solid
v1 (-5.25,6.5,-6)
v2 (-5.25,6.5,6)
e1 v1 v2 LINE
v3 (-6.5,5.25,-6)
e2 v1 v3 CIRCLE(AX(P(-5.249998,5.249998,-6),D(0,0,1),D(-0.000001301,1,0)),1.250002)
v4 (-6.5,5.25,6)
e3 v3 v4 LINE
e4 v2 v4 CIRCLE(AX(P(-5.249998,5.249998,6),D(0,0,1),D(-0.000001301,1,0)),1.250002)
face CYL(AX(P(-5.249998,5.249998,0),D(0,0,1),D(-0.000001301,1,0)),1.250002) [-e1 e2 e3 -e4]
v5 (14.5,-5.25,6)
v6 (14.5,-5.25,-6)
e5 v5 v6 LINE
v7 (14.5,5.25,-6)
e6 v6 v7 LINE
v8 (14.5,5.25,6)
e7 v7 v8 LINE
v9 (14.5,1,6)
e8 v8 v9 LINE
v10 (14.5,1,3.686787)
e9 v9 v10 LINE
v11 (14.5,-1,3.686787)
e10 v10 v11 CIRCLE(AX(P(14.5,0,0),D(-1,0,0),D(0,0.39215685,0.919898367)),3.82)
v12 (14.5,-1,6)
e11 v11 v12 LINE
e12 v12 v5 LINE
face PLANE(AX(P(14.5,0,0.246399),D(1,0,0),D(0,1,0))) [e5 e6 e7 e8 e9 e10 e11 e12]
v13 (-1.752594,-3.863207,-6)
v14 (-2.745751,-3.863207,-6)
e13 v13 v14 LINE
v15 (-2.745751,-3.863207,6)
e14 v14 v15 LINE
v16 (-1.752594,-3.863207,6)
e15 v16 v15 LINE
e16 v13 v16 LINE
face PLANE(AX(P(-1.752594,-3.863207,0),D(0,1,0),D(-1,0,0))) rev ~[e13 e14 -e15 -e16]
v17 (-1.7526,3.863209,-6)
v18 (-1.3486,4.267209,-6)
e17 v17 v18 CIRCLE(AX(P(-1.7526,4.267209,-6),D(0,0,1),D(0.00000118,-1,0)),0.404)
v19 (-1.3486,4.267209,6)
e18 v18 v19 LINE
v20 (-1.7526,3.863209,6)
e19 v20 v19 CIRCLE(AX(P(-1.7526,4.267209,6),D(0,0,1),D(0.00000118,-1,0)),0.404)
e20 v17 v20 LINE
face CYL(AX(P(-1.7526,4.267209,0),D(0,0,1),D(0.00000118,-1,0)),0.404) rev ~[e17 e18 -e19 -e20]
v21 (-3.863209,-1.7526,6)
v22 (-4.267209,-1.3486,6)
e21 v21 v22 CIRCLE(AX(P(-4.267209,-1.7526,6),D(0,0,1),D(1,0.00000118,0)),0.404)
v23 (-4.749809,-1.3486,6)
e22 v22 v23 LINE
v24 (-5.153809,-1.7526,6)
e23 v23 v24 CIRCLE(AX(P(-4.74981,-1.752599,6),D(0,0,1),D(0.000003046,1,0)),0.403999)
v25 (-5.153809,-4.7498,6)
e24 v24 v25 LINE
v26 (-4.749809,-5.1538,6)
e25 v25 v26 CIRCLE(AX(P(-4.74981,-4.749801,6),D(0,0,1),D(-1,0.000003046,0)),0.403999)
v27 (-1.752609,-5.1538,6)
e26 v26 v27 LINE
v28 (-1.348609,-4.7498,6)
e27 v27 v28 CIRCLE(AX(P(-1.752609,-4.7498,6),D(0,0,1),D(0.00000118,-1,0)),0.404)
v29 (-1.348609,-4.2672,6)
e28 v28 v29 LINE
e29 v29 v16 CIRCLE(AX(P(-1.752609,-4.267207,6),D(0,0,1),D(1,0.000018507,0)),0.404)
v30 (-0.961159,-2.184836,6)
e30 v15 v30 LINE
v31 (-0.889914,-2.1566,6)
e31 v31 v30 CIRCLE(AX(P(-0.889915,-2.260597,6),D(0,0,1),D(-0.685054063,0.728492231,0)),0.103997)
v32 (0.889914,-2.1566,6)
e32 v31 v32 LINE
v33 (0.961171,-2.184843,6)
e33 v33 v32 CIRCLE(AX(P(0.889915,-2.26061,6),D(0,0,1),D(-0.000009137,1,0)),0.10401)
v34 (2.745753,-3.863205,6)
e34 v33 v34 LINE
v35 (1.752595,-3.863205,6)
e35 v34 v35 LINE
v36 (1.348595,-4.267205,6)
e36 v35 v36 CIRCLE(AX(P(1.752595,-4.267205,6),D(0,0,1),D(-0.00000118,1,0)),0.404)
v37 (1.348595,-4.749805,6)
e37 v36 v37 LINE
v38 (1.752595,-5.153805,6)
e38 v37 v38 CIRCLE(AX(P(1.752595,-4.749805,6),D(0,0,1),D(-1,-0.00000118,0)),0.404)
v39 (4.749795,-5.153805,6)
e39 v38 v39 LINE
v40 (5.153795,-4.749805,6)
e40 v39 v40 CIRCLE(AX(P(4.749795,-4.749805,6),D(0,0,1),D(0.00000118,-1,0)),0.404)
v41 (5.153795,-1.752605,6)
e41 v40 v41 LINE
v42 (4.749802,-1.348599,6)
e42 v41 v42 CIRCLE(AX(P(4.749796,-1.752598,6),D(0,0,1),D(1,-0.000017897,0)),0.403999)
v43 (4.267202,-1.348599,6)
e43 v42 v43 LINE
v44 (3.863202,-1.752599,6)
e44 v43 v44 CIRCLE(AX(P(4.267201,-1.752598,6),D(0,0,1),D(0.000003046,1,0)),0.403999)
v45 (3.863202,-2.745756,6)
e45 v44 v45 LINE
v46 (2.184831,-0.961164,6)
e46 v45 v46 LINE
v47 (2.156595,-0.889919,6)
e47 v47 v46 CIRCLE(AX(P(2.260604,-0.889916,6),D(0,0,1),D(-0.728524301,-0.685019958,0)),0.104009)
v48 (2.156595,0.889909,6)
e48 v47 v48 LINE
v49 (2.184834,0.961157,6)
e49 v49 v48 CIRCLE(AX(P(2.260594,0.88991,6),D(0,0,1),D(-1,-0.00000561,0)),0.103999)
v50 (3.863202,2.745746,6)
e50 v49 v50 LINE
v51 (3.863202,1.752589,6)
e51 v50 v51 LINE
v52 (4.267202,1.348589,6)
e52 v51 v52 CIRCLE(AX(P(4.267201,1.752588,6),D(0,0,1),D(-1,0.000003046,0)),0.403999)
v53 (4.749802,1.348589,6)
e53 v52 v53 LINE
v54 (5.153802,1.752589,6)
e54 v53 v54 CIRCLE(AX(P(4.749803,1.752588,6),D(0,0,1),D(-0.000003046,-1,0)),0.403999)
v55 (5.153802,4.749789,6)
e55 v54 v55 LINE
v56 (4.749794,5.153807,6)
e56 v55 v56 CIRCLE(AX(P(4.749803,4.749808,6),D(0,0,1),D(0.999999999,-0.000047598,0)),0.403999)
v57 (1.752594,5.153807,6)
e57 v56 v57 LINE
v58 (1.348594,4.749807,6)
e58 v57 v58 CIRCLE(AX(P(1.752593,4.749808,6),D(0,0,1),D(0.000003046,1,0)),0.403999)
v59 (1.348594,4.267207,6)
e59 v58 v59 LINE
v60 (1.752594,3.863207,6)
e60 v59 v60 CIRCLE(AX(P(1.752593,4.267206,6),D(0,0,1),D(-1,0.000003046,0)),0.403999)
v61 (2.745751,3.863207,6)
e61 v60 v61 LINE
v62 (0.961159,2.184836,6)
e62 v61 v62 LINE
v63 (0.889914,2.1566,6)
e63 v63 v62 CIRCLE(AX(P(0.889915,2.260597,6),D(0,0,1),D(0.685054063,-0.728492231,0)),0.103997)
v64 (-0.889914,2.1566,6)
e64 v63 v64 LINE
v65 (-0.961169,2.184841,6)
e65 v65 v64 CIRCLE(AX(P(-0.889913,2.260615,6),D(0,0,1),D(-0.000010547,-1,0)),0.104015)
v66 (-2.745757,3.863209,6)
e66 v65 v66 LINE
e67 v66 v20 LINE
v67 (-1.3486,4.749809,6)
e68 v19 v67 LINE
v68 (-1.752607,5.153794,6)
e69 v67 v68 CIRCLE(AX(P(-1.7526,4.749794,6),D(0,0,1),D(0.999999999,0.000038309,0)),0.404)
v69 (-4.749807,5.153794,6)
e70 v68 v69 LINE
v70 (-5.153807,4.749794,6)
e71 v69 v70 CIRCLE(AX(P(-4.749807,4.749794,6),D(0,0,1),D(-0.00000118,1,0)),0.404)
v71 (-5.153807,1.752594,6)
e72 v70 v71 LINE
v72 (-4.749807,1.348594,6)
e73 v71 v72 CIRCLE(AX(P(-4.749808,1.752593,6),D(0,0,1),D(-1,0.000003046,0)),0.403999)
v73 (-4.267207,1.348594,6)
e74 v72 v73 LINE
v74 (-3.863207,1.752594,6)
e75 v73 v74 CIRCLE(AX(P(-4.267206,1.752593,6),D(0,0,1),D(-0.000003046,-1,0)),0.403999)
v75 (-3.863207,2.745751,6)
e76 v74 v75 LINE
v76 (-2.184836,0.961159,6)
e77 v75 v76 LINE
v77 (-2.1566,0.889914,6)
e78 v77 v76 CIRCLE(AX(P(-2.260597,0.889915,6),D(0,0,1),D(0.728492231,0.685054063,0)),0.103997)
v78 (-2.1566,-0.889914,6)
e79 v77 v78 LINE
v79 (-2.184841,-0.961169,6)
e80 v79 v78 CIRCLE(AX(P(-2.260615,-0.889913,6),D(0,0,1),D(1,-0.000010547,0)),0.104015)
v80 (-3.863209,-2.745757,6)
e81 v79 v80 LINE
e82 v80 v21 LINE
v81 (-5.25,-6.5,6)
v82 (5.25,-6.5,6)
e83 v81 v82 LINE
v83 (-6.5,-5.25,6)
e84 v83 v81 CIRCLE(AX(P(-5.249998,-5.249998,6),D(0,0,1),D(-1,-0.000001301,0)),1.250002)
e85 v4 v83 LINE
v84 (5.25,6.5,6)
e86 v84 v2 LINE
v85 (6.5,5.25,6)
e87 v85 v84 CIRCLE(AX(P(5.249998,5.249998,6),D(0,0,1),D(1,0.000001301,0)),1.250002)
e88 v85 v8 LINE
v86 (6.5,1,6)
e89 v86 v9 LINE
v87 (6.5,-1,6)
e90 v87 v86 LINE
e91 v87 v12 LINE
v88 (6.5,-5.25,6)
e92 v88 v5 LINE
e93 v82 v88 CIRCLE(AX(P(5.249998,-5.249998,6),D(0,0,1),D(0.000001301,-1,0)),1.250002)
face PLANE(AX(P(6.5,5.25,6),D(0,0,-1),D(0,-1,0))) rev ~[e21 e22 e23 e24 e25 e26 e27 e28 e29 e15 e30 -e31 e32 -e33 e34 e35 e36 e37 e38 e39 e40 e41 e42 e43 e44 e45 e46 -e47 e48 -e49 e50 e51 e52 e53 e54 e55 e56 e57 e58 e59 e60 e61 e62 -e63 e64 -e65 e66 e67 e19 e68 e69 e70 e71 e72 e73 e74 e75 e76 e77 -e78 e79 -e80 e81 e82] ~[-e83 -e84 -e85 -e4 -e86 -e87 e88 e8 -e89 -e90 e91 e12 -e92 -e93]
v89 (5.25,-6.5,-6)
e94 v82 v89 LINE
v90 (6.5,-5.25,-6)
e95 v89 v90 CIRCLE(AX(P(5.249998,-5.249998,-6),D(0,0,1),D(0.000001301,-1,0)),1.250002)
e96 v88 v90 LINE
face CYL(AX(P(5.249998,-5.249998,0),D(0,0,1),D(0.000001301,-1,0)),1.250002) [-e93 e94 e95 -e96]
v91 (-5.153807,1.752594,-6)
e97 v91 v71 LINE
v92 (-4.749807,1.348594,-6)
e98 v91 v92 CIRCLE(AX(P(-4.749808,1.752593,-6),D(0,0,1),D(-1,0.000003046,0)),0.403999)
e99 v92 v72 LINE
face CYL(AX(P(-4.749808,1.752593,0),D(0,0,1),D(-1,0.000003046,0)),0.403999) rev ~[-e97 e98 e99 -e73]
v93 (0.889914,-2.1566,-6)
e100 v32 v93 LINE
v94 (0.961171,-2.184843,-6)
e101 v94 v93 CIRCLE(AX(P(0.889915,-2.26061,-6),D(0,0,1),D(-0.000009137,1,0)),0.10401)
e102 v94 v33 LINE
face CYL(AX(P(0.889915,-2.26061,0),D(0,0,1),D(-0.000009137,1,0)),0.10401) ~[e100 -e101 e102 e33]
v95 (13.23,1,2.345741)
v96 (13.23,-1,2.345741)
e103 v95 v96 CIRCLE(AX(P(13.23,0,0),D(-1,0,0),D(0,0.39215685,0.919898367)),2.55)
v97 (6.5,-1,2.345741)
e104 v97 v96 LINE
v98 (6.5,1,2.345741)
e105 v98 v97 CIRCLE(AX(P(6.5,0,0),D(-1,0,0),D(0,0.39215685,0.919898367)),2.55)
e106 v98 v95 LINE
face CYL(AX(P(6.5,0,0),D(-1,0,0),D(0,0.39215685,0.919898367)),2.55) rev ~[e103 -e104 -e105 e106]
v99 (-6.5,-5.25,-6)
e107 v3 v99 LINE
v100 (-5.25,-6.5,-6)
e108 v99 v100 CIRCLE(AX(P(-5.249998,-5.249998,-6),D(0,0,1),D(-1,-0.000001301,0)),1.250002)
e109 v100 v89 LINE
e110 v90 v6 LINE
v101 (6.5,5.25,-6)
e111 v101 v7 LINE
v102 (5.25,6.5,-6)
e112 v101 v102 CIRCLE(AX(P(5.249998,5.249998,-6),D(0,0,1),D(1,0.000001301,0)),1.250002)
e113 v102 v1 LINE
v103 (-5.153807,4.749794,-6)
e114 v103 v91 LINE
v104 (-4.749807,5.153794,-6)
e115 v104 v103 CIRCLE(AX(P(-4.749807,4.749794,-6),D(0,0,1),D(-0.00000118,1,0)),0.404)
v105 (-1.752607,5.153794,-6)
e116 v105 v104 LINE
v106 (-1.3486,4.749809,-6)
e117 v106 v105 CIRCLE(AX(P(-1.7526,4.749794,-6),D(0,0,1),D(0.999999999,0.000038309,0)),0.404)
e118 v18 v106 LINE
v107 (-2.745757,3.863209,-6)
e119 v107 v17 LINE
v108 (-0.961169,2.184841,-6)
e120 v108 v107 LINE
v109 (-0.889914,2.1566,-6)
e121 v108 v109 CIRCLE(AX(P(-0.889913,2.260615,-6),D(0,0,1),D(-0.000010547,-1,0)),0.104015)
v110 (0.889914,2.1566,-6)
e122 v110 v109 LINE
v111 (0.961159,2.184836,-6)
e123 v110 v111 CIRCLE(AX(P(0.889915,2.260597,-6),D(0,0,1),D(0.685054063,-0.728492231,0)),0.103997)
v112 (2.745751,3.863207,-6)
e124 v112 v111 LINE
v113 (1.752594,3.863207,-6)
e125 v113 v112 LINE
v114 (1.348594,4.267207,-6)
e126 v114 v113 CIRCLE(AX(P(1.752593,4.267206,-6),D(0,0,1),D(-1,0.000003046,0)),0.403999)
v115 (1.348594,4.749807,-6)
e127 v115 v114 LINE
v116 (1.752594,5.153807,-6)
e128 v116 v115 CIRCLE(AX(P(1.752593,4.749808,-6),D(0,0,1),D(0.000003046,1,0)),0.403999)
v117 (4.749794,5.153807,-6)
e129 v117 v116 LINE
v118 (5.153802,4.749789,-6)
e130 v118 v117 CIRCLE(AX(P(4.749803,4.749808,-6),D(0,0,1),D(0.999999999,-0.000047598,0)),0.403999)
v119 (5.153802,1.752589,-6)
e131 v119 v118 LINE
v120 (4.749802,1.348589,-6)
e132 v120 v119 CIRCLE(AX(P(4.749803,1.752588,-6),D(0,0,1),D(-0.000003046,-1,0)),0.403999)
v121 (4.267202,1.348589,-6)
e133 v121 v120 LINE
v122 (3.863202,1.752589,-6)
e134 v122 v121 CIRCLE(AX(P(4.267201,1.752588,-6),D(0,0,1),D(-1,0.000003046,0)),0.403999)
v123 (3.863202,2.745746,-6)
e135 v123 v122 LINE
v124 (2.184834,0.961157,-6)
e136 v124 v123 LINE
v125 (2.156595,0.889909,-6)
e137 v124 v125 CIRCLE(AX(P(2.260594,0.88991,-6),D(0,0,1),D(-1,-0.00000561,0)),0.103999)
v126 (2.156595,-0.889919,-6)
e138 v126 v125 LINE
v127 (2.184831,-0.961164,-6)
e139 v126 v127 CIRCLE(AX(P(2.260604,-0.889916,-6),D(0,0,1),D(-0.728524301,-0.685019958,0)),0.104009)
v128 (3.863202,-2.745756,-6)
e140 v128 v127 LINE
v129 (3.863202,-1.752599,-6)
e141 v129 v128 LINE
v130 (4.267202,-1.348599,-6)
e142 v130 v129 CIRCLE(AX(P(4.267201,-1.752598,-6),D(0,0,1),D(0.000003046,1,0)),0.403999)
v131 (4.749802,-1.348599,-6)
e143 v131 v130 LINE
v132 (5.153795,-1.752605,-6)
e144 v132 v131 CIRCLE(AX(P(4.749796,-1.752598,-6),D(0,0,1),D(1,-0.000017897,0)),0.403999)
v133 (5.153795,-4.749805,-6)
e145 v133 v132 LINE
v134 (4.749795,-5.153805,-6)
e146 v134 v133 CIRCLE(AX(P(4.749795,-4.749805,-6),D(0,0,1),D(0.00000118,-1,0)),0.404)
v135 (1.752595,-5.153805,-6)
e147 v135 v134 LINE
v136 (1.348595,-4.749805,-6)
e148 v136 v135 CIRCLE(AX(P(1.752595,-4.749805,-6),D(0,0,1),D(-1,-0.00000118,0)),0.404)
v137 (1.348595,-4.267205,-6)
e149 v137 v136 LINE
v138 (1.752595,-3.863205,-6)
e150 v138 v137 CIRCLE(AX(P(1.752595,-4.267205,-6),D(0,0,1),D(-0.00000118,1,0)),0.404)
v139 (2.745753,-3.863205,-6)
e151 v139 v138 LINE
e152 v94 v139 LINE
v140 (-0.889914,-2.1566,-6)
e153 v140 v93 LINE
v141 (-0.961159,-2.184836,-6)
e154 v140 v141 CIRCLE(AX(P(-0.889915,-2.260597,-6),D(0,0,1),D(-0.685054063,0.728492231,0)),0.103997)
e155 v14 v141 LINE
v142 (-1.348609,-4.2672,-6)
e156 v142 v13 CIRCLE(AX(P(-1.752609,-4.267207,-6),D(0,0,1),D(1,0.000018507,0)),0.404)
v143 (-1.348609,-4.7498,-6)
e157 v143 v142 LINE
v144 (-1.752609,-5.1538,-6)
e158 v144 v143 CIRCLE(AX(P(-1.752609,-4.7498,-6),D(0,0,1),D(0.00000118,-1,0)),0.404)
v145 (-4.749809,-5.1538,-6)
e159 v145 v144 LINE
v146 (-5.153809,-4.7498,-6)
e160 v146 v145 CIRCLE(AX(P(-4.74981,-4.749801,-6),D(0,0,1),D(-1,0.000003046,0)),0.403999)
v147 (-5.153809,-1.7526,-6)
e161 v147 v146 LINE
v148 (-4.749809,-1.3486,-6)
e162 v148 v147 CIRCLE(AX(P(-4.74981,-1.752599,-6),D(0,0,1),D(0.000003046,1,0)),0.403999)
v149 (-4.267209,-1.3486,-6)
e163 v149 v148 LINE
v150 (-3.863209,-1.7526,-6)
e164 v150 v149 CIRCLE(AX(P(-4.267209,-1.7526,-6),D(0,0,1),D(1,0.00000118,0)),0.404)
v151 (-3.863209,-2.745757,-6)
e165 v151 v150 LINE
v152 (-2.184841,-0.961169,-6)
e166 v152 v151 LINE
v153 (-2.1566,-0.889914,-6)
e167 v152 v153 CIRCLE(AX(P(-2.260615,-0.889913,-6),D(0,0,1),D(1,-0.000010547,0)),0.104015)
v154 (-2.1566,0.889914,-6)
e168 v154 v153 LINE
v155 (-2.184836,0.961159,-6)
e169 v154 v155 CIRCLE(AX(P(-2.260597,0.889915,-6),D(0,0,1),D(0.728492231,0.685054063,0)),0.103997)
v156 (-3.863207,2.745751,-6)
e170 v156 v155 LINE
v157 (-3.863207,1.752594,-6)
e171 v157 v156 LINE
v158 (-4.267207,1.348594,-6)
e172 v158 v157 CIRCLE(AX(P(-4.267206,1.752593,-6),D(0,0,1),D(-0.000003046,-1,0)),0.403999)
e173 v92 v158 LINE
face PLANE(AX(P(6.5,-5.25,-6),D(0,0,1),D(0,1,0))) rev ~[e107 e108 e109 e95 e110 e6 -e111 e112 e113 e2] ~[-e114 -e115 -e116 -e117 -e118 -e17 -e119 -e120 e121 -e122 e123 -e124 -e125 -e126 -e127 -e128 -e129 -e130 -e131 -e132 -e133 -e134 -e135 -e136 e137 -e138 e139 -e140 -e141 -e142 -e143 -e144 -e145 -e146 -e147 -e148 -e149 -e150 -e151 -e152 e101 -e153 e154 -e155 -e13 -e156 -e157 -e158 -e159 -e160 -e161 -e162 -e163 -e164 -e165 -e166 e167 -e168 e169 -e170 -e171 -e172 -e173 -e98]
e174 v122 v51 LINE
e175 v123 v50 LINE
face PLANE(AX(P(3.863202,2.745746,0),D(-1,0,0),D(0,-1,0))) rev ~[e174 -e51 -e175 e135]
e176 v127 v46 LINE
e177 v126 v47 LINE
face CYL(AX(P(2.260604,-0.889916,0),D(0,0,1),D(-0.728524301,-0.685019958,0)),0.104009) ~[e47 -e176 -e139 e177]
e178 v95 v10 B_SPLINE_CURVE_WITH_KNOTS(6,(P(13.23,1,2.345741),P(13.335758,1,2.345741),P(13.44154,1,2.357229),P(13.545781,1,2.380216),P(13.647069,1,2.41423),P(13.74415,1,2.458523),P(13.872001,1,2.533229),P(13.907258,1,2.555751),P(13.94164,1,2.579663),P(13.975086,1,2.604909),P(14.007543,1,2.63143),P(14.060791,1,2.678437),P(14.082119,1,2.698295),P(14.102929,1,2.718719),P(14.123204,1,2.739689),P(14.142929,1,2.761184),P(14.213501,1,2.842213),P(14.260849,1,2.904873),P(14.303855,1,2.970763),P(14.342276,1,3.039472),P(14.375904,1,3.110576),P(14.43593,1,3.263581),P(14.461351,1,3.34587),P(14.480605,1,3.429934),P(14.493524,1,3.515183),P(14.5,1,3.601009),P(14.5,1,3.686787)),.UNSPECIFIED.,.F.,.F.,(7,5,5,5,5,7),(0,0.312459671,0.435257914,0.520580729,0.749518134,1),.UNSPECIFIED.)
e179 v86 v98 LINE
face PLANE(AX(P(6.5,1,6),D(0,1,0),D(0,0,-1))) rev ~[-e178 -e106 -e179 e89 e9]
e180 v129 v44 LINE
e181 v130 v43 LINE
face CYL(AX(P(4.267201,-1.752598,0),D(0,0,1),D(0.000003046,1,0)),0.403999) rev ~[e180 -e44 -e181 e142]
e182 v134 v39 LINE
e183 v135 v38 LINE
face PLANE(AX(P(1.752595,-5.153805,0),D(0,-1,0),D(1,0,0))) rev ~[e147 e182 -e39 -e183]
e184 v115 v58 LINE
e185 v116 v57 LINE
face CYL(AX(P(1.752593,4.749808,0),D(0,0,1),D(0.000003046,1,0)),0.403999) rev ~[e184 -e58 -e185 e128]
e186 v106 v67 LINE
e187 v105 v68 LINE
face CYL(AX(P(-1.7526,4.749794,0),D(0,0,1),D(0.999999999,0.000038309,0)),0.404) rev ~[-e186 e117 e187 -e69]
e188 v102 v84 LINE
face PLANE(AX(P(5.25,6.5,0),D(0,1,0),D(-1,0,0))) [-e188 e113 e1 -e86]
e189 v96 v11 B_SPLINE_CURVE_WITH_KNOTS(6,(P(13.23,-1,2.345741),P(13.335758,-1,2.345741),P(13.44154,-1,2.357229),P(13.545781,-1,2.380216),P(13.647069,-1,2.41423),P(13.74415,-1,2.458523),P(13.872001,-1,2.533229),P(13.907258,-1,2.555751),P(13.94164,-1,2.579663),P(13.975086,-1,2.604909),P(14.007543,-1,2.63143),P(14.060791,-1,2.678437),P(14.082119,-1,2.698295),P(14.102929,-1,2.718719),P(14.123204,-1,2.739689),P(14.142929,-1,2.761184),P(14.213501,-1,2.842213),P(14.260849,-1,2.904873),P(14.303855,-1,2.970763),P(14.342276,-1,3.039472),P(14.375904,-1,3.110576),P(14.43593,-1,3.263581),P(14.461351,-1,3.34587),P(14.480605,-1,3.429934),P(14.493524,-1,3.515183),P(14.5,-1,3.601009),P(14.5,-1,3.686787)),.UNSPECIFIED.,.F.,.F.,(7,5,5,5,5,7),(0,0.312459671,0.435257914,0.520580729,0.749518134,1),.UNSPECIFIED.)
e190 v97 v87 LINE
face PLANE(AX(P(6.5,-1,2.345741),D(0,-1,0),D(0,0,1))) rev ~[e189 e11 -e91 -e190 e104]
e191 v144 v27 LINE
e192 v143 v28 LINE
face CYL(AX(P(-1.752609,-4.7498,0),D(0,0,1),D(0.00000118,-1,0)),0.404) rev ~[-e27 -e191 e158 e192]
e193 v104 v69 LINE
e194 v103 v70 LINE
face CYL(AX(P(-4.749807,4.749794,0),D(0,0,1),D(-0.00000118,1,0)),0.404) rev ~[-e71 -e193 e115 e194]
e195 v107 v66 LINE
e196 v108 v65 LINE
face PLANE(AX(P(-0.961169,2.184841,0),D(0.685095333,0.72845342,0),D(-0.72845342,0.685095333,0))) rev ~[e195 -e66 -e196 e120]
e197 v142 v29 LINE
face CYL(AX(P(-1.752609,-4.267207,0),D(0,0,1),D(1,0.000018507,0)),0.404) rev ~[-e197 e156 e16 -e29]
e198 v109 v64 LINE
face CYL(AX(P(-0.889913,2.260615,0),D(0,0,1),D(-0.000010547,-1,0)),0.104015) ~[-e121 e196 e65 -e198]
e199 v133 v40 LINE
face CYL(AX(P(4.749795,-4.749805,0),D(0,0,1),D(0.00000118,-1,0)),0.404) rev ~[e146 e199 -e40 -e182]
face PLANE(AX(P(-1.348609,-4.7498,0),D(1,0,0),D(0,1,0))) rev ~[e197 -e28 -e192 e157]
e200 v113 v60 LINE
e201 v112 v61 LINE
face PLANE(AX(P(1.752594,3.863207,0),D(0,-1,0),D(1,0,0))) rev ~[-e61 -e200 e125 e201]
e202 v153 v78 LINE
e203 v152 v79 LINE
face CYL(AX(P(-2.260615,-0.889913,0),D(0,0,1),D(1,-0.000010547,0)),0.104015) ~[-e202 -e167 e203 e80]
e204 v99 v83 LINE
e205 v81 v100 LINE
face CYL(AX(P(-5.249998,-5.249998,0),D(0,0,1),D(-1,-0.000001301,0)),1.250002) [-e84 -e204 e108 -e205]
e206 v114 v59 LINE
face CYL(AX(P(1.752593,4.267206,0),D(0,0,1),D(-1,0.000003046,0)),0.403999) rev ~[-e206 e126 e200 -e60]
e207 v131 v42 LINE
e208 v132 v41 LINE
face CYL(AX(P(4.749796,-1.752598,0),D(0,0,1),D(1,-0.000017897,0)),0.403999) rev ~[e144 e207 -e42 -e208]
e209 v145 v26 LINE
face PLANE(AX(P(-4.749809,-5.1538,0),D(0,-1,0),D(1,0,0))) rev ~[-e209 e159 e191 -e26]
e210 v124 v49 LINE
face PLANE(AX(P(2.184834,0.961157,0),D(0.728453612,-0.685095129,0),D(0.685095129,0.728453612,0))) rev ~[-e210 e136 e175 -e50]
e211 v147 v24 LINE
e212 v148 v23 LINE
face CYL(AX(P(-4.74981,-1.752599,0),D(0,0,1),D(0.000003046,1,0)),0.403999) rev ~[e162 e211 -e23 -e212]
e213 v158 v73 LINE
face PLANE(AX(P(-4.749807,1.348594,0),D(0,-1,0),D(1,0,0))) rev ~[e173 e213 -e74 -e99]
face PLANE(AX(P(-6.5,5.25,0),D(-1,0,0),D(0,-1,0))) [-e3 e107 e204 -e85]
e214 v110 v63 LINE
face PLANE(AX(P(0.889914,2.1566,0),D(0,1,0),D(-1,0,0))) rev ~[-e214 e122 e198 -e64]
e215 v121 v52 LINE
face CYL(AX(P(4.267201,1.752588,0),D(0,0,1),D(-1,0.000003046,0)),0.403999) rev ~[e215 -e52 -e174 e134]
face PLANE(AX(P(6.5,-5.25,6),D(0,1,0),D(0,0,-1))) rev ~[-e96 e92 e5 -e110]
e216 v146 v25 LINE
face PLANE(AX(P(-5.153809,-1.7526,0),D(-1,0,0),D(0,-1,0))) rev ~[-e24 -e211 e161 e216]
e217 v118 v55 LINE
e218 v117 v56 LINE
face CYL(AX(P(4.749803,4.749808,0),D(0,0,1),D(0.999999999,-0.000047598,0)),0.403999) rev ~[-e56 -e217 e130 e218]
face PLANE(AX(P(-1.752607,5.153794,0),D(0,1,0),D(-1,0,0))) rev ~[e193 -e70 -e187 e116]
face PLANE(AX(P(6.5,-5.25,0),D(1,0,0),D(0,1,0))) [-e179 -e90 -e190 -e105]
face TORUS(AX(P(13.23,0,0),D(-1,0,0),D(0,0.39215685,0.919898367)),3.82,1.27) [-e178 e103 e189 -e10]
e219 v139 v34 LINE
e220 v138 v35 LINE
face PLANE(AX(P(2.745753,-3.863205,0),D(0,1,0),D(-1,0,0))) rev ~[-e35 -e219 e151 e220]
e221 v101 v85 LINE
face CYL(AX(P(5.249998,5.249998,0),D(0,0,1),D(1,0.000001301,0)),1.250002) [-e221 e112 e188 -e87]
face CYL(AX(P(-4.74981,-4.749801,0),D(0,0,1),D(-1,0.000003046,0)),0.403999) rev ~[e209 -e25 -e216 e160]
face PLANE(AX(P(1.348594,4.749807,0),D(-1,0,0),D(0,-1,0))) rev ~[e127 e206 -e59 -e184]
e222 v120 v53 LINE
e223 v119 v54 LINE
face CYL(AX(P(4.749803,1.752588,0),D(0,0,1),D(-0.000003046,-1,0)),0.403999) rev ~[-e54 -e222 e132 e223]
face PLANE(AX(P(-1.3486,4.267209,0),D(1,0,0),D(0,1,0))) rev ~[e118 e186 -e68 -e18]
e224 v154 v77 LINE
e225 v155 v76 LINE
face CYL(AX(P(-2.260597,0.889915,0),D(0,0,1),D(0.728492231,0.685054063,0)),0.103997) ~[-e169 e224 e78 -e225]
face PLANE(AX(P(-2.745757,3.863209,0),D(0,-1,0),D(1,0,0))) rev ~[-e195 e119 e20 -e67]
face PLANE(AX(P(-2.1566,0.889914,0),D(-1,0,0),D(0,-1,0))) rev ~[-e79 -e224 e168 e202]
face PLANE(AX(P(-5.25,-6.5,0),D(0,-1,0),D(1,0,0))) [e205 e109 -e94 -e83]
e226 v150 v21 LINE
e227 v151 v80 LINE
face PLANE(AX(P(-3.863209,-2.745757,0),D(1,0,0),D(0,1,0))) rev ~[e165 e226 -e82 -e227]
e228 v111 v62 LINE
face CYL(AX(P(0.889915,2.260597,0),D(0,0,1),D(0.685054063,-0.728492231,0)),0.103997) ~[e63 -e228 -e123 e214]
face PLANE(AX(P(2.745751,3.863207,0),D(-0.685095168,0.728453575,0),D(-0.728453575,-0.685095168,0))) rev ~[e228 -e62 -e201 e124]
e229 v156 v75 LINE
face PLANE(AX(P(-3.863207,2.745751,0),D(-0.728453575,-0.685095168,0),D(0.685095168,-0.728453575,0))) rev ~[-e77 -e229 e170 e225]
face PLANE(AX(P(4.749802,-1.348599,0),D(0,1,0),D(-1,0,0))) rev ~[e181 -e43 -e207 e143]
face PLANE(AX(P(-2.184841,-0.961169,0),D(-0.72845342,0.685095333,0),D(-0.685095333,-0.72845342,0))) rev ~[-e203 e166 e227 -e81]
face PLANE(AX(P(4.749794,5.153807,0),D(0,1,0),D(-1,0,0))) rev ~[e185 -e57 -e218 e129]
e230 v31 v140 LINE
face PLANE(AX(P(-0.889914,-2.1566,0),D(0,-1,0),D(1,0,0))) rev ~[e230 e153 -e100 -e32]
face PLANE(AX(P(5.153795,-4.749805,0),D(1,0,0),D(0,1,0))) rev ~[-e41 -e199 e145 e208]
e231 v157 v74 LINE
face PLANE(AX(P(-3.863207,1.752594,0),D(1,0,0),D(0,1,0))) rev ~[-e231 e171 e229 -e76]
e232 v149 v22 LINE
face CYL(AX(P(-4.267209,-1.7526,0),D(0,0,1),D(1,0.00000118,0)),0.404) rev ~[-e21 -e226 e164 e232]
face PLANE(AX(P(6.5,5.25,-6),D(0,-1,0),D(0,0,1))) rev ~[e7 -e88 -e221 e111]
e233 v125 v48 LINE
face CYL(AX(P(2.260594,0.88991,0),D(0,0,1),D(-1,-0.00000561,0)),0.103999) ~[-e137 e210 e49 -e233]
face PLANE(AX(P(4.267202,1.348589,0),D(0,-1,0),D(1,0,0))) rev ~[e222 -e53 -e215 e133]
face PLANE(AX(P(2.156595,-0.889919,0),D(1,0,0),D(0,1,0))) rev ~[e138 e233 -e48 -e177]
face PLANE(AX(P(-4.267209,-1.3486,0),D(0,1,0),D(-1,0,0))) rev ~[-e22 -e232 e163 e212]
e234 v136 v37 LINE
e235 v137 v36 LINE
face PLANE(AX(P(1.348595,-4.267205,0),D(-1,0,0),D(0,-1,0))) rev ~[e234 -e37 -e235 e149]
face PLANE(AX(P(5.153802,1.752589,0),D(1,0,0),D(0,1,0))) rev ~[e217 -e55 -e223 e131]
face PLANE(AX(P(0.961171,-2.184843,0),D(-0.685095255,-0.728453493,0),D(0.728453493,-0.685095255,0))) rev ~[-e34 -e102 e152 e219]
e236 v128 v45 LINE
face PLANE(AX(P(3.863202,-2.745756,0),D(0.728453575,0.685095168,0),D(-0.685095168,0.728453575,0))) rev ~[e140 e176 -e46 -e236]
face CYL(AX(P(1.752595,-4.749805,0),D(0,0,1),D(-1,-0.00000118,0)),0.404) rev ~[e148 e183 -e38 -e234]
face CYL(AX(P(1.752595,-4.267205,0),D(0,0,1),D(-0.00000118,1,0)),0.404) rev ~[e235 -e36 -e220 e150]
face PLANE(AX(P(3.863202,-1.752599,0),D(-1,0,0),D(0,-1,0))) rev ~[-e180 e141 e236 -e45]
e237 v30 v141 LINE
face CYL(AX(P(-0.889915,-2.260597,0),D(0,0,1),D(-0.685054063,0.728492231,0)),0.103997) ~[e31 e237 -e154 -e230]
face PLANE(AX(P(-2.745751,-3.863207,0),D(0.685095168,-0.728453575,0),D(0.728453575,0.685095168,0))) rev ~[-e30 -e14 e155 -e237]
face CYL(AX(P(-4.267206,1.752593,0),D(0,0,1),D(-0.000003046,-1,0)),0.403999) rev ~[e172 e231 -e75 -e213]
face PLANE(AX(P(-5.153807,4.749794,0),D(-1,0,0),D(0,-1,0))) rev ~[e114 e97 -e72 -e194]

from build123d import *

# Parameters (mm, degrees)
F1_DEPTH = 6
F3_DEPTH = 10
F5_DEPTH = 8
F6_R     = 1.27


with BuildPart() as f1:
    # F0 (on Top) → F1 (new body, symmetric)
    with BuildSketch(Plane.XY):
        with BuildLine():
            Line((6.5, -5.25), (6.5, 5.25))
            ThreePointArc((6.5, 5.25), (6.133883, 6.133883), (5.25, 6.5))
            Line((5.25, 6.5), (-5.25, 6.5))
            ThreePointArc((-5.25, 6.5), (-6.133883, 6.133883), (-6.5, 5.25))
            Line((-6.5, 5.25), (-6.5, -5.25))
            ThreePointArc((-6.5, -5.25), (-6.133883, -6.133883), (-5.25, -6.5))
            Line((-5.25, -6.5), (5.25, -6.5))
            ThreePointArc((5.25, -6.5), (6.133883, -6.133883), (6.5, -5.25))
        make_face()
    extrude(amount=F1_DEPTH, both=True)

    # F2 (on Top) → F3 (cut, symmetric)
    with BuildSketch(Plane.XY):
        with BuildLine():
            ThreePointArc((0.889914, -2.1566), (0.928239, -2.163918), (0.961171, -2.184843))
            Line((0.961171, -2.184843), (2.745753, -3.863205))
            Line((2.745753, -3.863205), (1.752595, -3.863205))
            ThreePointArc((1.752595, -3.863205), (1.466924, -3.981534), (1.348595, -4.267205))
            Line((1.348595, -4.267205), (1.348595, -4.749805))
            ThreePointArc((1.348595, -4.749805), (1.466924, -5.035476), (1.752595, -5.153805))
            Line((1.752595, -5.153805), (4.749795, -5.153805))
            ThreePointArc((4.749795, -5.153805), (5.035466, -5.035476), (5.153795, -4.749805))
            Line((5.153795, -4.749805), (5.153795, -1.752605))
            ThreePointArc((5.153795, -1.752605), (5.035471, -1.466932), (4.749802, -1.348599))
            Line((4.749802, -1.348599), (4.267202, -1.348599))
            ThreePointArc((4.267202, -1.348599), (3.981531, -1.466927), (3.863202, -1.752599))
            Line((3.863202, -1.752599), (3.863202, -2.745756))
            Line((3.863202, -2.745756), (2.184831, -0.961164))
            ThreePointArc((2.184831, -0.961164), (2.163912, -0.928237), (2.156595, -0.889919))
            Line((2.156595, -0.889919), (2.156595, 0.889909))
            ThreePointArc((2.156595, 0.889909), (2.163912, 0.928229), (2.184834, 0.961157))
            Line((2.184834, 0.961157), (3.863202, 2.745746))
            Line((3.863202, 2.745746), (3.863202, 1.752589))
            ThreePointArc((3.863202, 1.752589), (3.981531, 1.466917), (4.267202, 1.348589))
            Line((4.267202, 1.348589), (4.749802, 1.348589))
            ThreePointArc((4.749802, 1.348589), (5.035473, 1.466917), (5.153802, 1.752589))
            Line((5.153802, 1.752589), (5.153802, 4.749789))
            ThreePointArc((5.153802, 4.749789), (5.035477, 5.035475), (4.749794, 5.153807))
            Line((4.749794, 5.153807), (1.752594, 5.153807))
            ThreePointArc((1.752594, 5.153807), (1.466922, 5.035478), (1.348594, 4.749807))
            Line((1.348594, 4.749807), (1.348594, 4.267207))
            ThreePointArc((1.348594, 4.267207), (1.466922, 3.981536), (1.752594, 3.863207))
            Line((1.752594, 3.863207), (2.745751, 3.863207))
            Line((2.745751, 3.863207), (0.961159, 2.184836))
            ThreePointArc((0.961159, 2.184836), (0.928232, 2.163916), (0.889914, 2.1566))
            Line((0.889914, 2.1566), (-0.889914, 2.1566))
            ThreePointArc((-0.889914, 2.1566), (-0.928238, 2.163918), (-0.961169, 2.184841))
            Line((-0.961169, 2.184841), (-2.745757, 3.863209))
            Line((-2.745757, 3.863209), (-1.7526, 3.863209))
            ThreePointArc((-1.7526, 3.863209), (-1.466929, 3.981538), (-1.3486, 4.267209))
            Line((-1.3486, 4.267209), (-1.3486, 4.749809))
            ThreePointArc((-1.3486, 4.749809), (-1.466937, 5.035473), (-1.752607, 5.153794))
            Line((-1.752607, 5.153794), (-4.749807, 5.153794))
            ThreePointArc((-4.749807, 5.153794), (-5.035478, 5.035465), (-5.153807, 4.749794))
            Line((-5.153807, 4.749794), (-5.153807, 1.752594))
            ThreePointArc((-5.153807, 1.752594), (-5.035478, 1.466922), (-4.749807, 1.348594))
            Line((-4.749807, 1.348594), (-4.267207, 1.348594))
            ThreePointArc((-4.267207, 1.348594), (-3.981536, 1.466922), (-3.863207, 1.752594))
            Line((-3.863207, 1.752594), (-3.863207, 2.745751))
            Line((-3.863207, 2.745751), (-2.184836, 0.961159))
            ThreePointArc((-2.184836, 0.961159), (-2.163916, 0.928232), (-2.1566, 0.889914))
            Line((-2.1566, 0.889914), (-2.1566, -0.889914))
            ThreePointArc((-2.1566, -0.889914), (-2.163918, -0.928238), (-2.184841, -0.961169))
            Line((-2.184841, -0.961169), (-3.863209, -2.745757))
            Line((-3.863209, -2.745757), (-3.863209, -1.7526))
            ThreePointArc((-3.863209, -1.7526), (-3.981538, -1.466929), (-4.267209, -1.3486))
            Line((-4.267209, -1.3486), (-4.749809, -1.3486))
            ThreePointArc((-4.749809, -1.3486), (-5.035481, -1.466929), (-5.153809, -1.7526))
            Line((-5.153809, -1.7526), (-5.153809, -4.7498))
            ThreePointArc((-5.153809, -4.7498), (-5.035481, -5.035471), (-4.749809, -5.1538))
            Line((-4.749809, -5.1538), (-1.752609, -5.1538))
            ThreePointArc((-1.752609, -5.1538), (-1.466938, -5.035471), (-1.348609, -4.7498))
            Line((-1.348609, -4.7498), (-1.348609, -4.2672))
            ThreePointArc((-1.348609, -4.2672), (-1.466935, -3.981539), (-1.752594, -3.863207))
            Line((-1.752594, -3.863207), (-2.745751, -3.863207))
            Line((-2.745751, -3.863207), (-0.961159, -2.184836))
            ThreePointArc((-0.961159, -2.184836), (-0.928232, -2.163916), (-0.889914, -2.1566))
            Line((-0.889914, -2.1566), (0.889914, -2.1566))
        make_face()
    extrude(amount=F3_DEPTH, both=True, mode=Mode.SUBTRACT)

    # F4 (on face) → F5 (join)
    with BuildSketch(Plane.YZ.offset(6.5)):
        with BuildLine():
            ThreePointArc((1, 2.345741), (0, -2.55), (-1, 2.345741))
            Line((-1, 2.345741), (-1, 6))
            Line((-1, 6), (-5.25, 6))
            Line((-5.25, 6), (-5.25, -6))
            Line((-5.25, -6), (5.25, -6))
            Line((5.25, -6), (5.25, 6))
            Line((5.25, 6), (1, 6))
            Line((1, 6), (1, 2.345741))
        make_face()
    extrude(amount=F5_DEPTH)

    # F6
    f6_edges = [f1.edges().sort_by_distance(p)[0] for p in [
        (14.5, 0, -2.55),
    ]]
    fillet(f6_edges, radius=F6_R)


solid = f1.part
